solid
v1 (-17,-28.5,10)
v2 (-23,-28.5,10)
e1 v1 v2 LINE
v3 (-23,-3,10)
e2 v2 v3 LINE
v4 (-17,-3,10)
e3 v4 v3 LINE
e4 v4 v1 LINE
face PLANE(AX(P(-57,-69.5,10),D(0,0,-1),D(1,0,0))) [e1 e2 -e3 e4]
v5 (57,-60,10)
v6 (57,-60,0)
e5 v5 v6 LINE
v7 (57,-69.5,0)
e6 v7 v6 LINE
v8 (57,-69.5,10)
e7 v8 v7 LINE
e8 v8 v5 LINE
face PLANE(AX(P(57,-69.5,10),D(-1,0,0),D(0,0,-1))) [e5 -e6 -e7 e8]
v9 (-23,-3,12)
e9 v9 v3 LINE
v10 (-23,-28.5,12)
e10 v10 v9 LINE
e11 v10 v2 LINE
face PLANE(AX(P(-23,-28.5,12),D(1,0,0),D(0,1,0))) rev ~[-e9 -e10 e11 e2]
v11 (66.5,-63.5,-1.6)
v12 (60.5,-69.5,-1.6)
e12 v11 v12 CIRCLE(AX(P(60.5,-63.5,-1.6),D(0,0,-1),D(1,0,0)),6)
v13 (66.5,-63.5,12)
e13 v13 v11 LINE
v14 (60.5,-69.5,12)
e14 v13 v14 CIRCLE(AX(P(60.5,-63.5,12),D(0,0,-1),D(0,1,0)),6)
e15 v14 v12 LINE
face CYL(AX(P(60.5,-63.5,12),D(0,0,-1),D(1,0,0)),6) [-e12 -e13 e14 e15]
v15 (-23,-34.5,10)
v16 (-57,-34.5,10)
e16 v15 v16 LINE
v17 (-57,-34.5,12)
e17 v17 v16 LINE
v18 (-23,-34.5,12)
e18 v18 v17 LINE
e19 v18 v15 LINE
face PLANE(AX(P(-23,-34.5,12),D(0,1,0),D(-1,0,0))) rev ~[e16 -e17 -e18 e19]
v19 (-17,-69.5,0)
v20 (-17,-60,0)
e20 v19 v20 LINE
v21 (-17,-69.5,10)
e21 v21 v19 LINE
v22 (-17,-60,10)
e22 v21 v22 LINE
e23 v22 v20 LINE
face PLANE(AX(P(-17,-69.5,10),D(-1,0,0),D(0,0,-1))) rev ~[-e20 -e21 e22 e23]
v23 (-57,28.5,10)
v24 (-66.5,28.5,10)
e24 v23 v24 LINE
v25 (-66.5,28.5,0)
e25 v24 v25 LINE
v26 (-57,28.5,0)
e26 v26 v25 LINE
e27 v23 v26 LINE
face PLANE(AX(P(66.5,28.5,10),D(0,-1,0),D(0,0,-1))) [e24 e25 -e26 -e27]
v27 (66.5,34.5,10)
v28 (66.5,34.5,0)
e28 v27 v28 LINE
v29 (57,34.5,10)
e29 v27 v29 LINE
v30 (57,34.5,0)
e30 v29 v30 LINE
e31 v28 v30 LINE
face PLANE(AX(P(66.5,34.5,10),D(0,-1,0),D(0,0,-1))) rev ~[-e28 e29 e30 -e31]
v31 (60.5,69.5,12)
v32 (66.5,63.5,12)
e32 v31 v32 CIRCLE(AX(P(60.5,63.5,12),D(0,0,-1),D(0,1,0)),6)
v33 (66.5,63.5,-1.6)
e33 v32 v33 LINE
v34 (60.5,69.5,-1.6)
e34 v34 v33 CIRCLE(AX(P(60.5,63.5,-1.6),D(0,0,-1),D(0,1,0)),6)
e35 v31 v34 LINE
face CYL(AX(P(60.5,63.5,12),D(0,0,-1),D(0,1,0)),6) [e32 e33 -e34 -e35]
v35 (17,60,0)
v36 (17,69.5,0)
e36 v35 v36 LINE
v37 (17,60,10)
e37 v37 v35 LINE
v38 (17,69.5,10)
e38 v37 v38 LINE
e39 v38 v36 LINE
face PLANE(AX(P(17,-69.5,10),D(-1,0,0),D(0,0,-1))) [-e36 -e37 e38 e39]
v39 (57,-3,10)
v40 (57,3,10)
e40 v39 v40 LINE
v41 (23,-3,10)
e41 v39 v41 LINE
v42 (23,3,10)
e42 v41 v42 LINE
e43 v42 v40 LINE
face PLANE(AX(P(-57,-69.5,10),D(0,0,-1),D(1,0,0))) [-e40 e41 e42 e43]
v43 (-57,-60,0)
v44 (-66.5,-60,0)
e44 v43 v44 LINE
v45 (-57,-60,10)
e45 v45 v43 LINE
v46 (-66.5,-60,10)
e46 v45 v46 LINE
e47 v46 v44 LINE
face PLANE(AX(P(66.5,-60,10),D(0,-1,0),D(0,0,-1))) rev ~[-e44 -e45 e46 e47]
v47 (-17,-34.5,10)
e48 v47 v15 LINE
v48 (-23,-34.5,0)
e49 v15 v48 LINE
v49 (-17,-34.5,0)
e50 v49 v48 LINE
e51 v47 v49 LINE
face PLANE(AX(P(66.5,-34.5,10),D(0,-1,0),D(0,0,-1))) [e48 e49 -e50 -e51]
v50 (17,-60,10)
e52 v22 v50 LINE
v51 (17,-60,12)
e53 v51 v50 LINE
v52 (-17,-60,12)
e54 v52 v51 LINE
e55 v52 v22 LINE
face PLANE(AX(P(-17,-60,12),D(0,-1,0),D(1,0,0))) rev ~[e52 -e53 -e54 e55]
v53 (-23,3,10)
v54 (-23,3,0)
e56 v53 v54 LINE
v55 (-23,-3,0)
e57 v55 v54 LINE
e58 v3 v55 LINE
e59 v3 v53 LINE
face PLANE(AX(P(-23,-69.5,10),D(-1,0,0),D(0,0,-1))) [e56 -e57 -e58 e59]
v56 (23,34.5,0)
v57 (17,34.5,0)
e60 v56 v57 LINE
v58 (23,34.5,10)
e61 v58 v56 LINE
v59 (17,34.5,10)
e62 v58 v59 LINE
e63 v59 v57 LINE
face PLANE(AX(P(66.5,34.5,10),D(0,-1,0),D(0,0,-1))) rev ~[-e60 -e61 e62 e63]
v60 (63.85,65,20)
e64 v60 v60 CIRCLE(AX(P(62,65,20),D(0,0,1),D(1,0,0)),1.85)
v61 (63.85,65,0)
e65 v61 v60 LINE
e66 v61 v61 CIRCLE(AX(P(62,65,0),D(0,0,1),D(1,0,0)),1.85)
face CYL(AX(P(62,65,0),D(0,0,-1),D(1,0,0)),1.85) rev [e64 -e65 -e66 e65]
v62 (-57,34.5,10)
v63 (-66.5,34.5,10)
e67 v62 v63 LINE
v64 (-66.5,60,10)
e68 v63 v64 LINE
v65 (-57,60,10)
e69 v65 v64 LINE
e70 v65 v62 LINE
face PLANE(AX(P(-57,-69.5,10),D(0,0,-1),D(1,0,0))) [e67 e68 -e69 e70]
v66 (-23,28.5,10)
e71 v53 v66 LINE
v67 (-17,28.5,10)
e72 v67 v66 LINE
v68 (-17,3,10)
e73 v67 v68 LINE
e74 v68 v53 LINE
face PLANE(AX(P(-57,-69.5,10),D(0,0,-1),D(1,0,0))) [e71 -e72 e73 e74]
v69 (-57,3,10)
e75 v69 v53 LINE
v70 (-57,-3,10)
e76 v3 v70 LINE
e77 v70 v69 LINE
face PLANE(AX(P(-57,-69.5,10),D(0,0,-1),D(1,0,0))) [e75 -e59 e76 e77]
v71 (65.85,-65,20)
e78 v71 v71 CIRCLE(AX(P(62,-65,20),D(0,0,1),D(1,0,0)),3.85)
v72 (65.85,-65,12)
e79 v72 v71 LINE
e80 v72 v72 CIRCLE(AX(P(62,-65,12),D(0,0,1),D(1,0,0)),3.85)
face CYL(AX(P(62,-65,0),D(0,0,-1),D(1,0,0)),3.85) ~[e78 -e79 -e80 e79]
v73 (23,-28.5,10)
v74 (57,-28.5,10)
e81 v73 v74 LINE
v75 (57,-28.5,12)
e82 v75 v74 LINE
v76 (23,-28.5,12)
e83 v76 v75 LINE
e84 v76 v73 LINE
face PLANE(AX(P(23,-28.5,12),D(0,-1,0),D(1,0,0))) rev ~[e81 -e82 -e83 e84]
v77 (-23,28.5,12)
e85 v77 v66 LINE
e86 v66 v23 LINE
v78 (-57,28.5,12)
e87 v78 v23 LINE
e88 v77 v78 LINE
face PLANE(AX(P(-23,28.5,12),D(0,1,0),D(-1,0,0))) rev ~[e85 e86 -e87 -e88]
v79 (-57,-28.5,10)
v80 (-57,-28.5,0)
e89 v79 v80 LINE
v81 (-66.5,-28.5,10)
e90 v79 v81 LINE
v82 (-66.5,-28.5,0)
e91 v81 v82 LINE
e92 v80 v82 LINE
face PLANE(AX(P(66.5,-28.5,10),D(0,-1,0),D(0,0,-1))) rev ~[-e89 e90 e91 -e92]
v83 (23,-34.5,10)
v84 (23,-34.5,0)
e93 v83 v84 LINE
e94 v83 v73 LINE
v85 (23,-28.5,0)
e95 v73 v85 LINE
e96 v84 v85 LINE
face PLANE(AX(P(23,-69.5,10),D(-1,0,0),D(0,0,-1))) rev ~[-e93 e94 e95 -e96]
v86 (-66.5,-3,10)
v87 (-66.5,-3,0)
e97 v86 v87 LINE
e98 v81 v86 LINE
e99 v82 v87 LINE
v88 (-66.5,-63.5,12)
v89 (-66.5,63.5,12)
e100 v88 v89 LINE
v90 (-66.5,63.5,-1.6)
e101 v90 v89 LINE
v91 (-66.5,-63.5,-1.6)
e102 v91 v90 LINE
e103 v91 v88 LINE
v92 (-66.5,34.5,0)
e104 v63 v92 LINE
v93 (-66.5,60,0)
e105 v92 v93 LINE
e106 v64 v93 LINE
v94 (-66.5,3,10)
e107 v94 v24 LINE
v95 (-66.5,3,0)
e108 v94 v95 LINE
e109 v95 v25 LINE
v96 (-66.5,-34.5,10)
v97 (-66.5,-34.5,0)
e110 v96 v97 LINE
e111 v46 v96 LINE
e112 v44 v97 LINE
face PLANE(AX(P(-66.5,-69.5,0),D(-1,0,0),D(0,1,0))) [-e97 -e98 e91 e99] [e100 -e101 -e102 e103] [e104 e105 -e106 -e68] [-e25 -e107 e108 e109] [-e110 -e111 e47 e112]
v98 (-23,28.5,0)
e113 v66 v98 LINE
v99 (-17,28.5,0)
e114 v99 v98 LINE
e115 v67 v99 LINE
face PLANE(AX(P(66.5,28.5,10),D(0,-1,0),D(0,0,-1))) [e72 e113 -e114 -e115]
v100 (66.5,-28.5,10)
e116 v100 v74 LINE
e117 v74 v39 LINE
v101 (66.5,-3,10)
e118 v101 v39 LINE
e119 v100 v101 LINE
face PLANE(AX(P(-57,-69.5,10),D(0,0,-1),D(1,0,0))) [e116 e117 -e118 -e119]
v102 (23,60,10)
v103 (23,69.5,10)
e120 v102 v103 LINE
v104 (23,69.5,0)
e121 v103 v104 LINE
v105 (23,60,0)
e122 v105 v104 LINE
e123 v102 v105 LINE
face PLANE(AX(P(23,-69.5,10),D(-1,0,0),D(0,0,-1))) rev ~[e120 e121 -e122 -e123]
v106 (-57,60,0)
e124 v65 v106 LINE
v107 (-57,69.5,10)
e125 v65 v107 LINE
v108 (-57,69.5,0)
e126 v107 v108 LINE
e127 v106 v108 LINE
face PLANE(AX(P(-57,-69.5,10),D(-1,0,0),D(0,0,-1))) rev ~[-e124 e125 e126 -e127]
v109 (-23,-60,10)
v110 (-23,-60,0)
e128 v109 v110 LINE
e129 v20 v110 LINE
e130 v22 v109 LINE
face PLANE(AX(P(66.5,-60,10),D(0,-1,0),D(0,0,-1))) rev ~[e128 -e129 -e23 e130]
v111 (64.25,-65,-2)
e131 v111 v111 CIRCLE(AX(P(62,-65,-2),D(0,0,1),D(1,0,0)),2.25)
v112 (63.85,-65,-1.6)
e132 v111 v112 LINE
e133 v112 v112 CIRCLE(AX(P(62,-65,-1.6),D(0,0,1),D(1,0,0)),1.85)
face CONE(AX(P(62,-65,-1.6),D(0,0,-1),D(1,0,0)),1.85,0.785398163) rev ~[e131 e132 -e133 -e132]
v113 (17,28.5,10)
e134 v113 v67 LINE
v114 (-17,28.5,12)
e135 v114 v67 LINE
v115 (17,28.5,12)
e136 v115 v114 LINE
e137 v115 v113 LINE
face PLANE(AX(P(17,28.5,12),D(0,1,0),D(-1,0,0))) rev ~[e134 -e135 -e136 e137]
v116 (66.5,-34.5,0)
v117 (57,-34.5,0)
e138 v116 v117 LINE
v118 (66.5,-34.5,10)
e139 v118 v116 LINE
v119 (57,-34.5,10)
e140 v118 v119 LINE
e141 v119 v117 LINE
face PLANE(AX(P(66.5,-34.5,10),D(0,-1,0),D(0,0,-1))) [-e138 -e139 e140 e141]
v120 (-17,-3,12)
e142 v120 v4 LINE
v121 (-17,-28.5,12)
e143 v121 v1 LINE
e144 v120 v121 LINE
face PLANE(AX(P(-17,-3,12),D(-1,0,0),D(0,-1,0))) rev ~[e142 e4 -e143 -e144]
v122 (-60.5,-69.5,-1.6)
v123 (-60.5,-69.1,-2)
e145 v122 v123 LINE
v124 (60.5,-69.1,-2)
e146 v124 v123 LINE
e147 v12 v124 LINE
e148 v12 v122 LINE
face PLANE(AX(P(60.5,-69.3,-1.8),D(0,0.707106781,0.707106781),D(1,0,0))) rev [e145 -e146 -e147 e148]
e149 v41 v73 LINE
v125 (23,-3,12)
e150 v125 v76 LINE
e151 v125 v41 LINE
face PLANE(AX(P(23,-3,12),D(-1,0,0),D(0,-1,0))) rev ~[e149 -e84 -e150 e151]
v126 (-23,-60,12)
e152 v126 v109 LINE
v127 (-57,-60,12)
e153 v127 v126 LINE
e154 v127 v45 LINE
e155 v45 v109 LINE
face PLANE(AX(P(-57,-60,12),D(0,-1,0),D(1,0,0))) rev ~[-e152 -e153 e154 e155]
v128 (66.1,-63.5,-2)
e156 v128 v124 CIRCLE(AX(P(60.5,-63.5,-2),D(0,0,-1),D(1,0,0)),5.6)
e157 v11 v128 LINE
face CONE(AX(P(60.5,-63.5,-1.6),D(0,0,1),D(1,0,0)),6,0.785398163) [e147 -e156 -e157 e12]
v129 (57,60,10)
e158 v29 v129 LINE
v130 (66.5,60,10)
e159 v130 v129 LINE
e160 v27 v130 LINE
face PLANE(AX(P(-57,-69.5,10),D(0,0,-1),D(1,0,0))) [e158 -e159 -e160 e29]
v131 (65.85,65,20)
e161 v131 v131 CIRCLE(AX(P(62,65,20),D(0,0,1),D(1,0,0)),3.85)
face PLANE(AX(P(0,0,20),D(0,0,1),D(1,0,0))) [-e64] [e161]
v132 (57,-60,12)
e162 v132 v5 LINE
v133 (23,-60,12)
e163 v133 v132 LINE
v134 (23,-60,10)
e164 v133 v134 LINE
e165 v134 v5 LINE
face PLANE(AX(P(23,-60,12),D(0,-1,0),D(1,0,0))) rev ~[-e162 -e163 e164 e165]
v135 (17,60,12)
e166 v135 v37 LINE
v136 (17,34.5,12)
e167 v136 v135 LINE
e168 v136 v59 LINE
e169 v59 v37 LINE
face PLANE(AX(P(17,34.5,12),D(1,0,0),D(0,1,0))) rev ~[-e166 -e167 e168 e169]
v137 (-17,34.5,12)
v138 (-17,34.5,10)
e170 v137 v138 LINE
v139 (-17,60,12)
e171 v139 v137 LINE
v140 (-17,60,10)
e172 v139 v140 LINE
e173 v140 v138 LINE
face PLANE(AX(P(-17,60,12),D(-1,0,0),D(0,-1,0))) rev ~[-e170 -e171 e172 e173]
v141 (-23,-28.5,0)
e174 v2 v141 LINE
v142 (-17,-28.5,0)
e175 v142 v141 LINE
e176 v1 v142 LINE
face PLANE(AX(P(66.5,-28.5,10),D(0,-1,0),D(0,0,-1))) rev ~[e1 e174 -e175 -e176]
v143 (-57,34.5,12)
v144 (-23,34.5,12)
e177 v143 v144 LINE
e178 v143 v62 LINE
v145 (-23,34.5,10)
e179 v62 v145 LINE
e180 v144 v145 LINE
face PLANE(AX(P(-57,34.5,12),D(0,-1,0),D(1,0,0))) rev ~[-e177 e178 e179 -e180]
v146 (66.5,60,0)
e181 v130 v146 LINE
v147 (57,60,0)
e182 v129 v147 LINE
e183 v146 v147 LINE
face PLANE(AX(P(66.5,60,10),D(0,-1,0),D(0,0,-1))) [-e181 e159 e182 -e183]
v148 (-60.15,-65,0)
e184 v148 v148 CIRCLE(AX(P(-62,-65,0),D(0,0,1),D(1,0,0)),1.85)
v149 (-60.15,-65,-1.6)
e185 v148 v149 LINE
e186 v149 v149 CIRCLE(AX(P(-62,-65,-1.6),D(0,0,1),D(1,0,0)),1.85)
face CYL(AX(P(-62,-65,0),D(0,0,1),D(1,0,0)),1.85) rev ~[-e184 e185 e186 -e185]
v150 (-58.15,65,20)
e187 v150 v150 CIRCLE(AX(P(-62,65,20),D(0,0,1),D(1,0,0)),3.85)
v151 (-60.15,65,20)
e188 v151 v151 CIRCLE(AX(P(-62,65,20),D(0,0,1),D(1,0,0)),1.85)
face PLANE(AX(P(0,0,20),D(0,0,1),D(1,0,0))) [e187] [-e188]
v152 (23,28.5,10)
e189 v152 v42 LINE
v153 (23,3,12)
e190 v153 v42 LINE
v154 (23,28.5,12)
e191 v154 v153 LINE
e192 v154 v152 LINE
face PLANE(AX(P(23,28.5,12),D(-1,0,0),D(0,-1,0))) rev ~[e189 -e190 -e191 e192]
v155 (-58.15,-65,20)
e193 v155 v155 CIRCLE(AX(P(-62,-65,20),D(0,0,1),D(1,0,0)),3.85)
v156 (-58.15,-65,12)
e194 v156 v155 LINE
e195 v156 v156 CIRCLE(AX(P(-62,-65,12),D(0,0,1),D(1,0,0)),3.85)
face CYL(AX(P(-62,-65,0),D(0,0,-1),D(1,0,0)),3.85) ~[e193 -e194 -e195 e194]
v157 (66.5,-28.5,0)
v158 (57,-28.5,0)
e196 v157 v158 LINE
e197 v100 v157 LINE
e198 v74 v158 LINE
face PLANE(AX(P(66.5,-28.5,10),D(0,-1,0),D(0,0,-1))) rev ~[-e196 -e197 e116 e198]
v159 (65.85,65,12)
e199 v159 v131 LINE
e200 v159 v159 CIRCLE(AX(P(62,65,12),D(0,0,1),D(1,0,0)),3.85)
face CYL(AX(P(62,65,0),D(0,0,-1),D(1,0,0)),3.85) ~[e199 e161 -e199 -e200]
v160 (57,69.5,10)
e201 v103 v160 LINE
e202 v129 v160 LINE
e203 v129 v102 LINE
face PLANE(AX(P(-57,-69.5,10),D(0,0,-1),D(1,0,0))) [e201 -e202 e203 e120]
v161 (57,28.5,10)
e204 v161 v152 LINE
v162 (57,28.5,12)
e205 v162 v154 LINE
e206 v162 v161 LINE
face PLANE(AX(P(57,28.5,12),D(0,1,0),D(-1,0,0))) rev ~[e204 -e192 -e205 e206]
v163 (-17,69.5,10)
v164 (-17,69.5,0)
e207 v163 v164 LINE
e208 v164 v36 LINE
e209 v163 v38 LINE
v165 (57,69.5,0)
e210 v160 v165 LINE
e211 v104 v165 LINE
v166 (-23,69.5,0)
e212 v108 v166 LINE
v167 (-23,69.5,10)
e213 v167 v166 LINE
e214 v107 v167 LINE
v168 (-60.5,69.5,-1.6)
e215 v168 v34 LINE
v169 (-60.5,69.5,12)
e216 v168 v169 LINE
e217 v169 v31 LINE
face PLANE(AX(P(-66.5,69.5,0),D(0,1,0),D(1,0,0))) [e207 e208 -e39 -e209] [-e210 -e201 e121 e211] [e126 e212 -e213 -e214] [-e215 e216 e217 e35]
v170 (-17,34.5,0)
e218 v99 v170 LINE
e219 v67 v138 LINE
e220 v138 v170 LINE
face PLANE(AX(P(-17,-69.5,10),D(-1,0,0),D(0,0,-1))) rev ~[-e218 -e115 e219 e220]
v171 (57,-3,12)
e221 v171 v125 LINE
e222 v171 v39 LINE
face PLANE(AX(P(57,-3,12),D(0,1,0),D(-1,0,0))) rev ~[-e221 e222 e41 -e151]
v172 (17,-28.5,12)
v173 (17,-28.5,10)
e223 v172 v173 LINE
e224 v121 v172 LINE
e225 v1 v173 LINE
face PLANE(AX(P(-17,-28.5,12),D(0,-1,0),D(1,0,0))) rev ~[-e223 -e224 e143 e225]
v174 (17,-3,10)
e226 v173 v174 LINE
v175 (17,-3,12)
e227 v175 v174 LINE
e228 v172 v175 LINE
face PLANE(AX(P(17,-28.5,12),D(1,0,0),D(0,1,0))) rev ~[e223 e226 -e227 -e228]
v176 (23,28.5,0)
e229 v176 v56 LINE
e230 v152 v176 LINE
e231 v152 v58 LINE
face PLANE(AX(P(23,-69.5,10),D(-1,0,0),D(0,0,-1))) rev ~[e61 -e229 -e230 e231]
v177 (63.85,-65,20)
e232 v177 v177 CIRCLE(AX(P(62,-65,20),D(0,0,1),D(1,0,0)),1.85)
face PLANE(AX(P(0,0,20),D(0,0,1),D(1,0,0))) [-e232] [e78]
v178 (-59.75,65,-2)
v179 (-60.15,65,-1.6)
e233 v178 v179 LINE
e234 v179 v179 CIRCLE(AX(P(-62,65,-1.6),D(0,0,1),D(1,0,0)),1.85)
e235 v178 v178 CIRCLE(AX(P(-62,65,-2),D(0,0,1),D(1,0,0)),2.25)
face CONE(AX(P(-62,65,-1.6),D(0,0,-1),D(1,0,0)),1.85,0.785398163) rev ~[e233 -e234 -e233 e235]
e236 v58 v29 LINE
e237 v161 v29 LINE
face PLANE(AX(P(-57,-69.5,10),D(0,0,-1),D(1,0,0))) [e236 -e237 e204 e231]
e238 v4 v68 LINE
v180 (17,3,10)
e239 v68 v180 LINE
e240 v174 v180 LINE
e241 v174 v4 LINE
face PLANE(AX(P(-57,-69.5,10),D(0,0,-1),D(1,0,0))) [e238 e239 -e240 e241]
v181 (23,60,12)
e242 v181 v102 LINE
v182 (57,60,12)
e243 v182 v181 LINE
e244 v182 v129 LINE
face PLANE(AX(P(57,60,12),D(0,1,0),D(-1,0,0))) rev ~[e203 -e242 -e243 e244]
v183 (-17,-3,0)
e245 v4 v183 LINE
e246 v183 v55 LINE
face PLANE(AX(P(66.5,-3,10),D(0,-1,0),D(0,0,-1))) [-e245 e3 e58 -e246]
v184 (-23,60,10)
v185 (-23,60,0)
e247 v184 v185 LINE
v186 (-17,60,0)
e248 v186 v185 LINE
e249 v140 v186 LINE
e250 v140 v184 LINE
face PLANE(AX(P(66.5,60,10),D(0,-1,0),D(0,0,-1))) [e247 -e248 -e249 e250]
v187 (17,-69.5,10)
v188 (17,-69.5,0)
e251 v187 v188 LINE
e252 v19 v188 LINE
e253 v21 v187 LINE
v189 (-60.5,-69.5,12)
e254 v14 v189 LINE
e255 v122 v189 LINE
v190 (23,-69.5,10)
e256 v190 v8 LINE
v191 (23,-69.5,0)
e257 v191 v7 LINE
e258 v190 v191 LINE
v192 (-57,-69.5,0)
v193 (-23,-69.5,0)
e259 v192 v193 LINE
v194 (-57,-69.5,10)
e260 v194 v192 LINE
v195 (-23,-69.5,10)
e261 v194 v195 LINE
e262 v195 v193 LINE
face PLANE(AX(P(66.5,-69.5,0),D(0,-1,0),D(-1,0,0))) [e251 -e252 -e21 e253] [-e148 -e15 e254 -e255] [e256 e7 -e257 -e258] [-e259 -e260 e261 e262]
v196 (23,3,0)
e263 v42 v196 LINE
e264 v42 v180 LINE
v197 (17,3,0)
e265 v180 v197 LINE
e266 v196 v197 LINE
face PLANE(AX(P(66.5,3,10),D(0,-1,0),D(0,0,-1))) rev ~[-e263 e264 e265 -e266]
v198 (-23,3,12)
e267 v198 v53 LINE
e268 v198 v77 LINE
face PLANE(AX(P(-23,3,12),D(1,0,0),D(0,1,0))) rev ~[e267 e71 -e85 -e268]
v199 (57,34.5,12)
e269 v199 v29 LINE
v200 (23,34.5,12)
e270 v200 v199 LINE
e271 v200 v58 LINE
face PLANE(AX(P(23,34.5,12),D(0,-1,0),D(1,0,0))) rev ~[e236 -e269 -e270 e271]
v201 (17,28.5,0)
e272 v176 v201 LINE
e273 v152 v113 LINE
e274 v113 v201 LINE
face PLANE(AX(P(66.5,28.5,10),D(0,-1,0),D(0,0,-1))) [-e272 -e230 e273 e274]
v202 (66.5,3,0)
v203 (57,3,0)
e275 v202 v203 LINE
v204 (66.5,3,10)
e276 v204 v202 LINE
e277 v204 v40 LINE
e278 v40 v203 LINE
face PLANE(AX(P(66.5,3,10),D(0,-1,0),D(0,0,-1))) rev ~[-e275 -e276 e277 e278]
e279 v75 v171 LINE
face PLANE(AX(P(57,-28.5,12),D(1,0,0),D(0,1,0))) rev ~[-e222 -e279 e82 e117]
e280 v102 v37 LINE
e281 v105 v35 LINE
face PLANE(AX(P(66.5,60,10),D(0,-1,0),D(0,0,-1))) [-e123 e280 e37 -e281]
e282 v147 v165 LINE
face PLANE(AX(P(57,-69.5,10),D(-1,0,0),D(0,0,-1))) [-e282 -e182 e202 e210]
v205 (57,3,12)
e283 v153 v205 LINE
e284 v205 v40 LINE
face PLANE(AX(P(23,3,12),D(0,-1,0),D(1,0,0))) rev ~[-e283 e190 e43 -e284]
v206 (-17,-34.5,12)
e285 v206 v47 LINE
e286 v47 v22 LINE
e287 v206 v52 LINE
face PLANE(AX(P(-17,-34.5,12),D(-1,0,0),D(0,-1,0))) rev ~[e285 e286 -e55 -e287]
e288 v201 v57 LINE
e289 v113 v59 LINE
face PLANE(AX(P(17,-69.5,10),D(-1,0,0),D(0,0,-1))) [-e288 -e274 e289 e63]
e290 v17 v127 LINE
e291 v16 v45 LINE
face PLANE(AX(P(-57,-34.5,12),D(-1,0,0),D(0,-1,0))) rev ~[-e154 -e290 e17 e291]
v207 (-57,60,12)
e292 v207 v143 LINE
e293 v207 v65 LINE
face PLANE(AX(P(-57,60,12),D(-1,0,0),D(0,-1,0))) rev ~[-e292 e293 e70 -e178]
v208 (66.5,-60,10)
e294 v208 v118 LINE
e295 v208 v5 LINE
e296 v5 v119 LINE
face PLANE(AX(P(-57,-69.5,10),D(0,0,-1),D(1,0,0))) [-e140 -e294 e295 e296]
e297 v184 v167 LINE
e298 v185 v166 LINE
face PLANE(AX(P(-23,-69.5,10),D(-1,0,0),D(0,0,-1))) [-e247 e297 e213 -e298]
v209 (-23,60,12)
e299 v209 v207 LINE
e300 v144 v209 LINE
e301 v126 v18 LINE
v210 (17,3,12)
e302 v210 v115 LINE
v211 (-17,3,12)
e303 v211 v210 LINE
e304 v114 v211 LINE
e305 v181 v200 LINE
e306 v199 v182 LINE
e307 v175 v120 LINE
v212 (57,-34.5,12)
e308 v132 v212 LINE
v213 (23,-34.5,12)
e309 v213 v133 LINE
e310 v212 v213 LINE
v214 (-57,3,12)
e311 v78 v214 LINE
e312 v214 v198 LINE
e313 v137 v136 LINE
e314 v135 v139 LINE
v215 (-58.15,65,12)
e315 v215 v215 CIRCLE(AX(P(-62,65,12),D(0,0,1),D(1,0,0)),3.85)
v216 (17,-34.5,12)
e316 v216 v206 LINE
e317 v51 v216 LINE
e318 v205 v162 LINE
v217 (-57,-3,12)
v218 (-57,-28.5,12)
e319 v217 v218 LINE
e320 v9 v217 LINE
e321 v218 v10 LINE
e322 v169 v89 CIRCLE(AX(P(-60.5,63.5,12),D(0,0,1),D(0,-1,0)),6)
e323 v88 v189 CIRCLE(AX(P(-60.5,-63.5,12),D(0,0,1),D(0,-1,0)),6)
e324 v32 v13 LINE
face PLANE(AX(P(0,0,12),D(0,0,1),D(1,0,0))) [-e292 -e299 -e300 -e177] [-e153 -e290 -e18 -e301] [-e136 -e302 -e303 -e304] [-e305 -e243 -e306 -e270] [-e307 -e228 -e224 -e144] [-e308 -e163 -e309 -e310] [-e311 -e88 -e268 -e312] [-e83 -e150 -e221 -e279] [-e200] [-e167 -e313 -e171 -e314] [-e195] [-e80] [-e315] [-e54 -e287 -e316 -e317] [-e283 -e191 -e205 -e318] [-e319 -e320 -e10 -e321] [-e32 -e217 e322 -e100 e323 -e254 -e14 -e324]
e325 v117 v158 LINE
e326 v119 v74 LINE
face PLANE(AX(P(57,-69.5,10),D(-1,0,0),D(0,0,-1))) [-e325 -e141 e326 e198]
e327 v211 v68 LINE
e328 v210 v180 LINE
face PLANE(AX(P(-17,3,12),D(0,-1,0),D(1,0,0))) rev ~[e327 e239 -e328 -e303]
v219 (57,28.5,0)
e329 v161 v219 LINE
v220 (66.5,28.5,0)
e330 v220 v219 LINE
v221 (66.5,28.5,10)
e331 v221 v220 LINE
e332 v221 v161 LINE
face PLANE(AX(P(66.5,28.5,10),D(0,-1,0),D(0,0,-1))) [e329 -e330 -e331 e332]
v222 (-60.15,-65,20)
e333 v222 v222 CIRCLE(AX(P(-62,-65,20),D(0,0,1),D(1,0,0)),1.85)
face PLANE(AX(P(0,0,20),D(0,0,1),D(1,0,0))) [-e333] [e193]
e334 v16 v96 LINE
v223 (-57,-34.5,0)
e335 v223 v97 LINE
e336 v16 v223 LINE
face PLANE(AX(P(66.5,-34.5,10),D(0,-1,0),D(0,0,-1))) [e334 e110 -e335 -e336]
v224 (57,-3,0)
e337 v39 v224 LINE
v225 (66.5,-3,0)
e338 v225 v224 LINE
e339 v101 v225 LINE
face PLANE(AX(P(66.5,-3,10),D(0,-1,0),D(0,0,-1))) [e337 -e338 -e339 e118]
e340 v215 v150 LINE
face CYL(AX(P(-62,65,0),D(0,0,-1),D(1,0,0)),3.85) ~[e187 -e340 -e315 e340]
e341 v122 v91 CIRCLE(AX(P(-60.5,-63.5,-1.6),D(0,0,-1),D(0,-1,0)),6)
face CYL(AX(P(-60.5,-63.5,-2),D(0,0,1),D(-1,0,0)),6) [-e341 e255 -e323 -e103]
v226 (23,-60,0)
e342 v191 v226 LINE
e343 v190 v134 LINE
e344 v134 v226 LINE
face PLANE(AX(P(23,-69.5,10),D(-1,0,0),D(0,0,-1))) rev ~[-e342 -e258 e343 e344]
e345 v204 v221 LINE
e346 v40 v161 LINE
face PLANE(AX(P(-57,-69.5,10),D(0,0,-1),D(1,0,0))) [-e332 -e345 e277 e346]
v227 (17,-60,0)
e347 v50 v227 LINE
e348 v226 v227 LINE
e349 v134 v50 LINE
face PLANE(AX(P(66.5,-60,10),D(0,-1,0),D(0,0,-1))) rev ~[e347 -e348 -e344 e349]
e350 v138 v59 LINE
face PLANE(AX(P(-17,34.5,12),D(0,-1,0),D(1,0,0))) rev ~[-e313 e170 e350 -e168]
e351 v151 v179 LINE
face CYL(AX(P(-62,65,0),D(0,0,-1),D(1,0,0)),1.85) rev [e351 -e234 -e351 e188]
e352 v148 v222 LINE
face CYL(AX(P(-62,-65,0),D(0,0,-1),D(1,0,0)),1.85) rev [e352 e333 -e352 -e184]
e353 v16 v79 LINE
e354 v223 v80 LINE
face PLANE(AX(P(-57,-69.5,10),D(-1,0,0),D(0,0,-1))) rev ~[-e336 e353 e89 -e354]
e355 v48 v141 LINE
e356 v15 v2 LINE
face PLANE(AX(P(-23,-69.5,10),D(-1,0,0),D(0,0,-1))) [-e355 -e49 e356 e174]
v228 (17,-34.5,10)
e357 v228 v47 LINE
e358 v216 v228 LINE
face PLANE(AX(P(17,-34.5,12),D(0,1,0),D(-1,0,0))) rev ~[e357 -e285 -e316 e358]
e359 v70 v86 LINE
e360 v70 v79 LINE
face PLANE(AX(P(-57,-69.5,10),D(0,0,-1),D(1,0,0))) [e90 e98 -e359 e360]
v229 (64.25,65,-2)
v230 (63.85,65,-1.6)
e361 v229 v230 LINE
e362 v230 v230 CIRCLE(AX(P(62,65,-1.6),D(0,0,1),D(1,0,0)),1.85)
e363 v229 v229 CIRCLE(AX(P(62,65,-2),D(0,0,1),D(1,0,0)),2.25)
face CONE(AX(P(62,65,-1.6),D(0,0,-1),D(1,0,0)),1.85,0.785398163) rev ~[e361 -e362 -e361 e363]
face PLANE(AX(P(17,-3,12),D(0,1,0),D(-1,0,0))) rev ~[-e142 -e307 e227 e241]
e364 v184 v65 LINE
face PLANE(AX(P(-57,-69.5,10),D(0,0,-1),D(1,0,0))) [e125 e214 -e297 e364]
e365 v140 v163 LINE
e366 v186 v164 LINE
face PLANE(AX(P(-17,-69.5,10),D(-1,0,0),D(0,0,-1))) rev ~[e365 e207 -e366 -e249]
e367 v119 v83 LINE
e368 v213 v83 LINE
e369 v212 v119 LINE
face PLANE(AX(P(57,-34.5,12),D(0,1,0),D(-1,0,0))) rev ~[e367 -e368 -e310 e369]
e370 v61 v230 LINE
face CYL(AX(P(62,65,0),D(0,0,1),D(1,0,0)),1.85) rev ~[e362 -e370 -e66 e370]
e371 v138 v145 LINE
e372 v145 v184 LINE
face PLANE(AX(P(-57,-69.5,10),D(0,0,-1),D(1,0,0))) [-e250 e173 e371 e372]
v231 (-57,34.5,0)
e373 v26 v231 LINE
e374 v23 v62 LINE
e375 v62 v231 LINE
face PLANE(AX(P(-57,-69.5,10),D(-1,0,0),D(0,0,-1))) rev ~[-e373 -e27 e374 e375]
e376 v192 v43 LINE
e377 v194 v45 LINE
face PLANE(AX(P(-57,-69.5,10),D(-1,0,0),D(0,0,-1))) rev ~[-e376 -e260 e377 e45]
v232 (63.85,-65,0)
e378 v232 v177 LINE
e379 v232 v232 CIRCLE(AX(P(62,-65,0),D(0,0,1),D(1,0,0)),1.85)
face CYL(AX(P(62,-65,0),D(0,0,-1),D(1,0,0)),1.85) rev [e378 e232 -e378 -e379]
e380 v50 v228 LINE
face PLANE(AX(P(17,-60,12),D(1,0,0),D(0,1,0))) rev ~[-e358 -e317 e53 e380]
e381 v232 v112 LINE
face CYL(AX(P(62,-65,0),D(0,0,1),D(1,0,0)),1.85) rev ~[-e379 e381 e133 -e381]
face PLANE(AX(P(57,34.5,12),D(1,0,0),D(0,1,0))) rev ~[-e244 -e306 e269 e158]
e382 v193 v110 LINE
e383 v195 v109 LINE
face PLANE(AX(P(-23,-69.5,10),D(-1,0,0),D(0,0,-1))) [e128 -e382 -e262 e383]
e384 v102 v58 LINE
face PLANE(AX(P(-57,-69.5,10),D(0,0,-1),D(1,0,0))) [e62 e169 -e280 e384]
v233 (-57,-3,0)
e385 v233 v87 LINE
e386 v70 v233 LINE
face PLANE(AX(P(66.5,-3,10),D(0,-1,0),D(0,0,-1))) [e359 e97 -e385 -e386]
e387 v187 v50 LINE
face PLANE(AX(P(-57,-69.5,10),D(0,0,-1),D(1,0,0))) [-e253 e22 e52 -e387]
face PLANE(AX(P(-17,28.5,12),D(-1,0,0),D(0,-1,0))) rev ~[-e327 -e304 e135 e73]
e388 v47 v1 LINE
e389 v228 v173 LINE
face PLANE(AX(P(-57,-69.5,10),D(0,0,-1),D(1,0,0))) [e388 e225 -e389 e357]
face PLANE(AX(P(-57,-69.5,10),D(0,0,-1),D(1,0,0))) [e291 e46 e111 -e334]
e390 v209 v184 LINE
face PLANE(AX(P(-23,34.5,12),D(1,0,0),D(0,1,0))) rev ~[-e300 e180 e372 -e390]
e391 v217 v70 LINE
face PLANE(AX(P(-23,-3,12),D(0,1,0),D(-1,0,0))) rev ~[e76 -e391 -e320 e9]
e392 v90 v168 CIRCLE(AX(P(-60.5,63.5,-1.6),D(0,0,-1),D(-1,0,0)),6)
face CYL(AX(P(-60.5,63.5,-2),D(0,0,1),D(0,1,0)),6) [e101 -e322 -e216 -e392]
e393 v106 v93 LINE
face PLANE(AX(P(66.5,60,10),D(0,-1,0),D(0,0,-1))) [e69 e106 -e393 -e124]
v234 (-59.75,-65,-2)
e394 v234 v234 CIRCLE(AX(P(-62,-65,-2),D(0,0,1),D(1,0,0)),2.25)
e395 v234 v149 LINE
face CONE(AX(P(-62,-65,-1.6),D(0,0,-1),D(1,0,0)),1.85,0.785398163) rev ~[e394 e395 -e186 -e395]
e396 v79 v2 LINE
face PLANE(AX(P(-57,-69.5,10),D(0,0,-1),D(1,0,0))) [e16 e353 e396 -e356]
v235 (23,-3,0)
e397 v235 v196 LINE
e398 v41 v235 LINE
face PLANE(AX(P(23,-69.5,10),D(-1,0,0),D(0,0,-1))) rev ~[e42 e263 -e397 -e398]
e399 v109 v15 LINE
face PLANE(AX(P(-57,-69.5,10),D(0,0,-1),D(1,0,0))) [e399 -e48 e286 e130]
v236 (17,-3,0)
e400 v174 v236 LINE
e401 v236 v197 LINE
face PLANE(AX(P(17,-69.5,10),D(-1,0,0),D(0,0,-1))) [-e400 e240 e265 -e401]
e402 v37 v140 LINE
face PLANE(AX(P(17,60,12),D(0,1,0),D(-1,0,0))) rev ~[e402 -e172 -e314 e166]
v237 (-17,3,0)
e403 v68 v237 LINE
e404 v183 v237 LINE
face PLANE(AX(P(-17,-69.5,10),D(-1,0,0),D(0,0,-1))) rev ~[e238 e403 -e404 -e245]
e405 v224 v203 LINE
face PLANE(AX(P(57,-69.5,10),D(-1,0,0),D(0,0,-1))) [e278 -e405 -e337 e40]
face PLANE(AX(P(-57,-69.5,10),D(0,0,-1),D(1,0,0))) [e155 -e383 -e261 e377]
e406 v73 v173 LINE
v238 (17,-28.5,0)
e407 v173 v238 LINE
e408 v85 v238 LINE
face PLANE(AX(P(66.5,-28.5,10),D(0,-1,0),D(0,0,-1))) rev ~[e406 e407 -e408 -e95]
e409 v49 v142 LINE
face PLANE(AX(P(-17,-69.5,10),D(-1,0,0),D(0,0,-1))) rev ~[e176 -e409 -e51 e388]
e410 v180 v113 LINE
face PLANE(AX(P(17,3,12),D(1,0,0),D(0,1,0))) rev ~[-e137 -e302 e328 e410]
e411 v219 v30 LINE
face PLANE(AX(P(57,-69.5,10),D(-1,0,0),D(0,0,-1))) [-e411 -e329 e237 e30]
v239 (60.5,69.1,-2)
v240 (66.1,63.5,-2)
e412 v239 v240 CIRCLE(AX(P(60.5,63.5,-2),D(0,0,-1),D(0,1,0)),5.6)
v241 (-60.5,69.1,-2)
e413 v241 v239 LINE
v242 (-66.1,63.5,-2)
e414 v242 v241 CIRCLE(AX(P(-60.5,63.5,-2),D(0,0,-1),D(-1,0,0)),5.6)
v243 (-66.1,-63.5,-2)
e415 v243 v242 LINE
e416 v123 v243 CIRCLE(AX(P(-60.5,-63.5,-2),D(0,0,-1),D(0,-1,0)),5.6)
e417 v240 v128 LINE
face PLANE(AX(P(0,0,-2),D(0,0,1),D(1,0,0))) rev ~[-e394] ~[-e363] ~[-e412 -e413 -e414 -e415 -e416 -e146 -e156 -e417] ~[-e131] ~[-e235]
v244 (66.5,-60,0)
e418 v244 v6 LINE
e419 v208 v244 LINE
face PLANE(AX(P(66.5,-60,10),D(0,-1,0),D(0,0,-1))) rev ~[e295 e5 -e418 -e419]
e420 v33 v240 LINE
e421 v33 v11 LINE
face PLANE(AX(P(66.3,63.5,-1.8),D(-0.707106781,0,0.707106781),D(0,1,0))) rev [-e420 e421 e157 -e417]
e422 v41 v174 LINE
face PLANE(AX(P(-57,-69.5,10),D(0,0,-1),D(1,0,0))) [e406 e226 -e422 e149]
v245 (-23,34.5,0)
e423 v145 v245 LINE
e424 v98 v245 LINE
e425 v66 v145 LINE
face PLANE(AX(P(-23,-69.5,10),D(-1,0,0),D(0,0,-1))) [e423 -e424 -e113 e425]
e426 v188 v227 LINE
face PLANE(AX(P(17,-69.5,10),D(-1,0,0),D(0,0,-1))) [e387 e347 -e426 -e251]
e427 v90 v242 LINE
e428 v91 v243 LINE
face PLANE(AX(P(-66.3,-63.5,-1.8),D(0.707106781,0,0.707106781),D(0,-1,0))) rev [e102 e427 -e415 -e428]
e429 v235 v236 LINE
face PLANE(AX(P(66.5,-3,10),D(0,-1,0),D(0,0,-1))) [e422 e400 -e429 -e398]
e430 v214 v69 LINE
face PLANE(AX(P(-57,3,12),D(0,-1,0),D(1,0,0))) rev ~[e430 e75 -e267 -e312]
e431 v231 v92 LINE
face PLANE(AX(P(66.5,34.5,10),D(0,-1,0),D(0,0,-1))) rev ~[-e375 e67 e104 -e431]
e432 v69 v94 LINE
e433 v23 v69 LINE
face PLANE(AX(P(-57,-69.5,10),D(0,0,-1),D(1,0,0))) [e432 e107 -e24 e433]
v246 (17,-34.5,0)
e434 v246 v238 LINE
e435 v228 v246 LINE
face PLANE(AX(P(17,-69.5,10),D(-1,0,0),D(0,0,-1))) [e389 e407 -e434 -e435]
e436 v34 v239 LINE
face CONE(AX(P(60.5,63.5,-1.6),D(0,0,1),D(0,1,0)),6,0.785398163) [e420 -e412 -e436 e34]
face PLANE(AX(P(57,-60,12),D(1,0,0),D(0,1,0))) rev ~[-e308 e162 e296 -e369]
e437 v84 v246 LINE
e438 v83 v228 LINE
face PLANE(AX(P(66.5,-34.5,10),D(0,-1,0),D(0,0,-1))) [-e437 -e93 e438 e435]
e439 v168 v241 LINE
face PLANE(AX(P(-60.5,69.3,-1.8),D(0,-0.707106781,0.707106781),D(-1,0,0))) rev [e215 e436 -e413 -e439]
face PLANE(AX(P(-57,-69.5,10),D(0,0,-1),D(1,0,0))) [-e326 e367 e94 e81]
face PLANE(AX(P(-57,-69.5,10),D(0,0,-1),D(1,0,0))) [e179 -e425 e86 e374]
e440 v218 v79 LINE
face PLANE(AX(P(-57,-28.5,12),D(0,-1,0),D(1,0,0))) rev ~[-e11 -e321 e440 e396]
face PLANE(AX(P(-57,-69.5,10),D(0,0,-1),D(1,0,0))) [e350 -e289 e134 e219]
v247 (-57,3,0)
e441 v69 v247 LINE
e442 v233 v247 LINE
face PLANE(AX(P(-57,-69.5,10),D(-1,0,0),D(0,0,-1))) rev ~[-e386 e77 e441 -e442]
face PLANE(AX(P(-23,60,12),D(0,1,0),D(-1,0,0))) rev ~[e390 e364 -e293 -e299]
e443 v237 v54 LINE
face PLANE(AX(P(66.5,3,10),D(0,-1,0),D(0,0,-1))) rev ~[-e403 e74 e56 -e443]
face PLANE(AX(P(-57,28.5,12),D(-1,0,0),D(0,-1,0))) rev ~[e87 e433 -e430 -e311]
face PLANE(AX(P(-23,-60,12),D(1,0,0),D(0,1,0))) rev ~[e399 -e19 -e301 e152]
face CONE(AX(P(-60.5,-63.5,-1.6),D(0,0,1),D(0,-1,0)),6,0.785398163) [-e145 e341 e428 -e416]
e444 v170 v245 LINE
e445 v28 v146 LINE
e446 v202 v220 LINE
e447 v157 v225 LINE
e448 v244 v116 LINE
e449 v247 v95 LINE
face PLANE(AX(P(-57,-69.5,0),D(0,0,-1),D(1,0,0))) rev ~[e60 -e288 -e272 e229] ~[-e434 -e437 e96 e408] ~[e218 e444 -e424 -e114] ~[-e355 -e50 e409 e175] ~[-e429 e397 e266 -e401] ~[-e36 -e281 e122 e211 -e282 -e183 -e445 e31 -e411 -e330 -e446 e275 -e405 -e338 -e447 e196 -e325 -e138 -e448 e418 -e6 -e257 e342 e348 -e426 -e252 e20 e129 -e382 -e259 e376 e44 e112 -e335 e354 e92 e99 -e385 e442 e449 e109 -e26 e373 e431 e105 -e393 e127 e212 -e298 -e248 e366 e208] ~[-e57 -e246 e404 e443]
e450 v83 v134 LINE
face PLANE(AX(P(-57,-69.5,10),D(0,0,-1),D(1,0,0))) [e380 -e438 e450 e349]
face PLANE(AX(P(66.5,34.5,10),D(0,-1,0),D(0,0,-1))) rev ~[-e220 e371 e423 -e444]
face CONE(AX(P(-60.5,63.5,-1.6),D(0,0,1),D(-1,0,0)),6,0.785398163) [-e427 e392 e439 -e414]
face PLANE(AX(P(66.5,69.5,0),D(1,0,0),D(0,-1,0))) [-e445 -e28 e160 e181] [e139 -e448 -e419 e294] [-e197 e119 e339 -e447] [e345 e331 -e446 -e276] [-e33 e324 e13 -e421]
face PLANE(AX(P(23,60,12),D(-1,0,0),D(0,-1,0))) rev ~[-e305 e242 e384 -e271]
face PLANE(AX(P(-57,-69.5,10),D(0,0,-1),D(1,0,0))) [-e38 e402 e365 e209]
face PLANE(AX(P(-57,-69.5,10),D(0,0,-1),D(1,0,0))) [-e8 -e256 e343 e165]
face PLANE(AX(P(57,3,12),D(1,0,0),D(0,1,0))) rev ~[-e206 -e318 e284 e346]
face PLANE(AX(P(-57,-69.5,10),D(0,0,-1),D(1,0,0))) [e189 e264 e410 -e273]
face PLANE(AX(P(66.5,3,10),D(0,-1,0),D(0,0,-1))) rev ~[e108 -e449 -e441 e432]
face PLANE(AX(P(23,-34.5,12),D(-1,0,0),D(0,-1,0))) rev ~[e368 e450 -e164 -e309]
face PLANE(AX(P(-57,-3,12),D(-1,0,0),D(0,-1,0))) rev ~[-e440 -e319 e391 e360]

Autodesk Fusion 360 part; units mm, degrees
sketch "Sketch1" plane through (0, 0, 0) normal (0, 0, 1) x (1, 0, 0)
  line L0 (-62, -65) -> (62, -65) construction
  line L1 (62, -65) -> (62, 65) construction
  line L2 (62, 65) -> (-62, 65) construction
  line L3 (-62, 65) -> (-62, -65) construction
  line L4 (-62, -65) -> (62, 65) construction
  line L5 (62, -65) -> (-62, 65) construction
  circle A0 centre (-62, 65) radius 1.85
  circle A1 centre (62, 65) radius 1.85
  circle A2 centre (-62, -65) radius 1.85
  circle A3 centre (62, -65) radius 1.85
  line L6 (-66.5, 69.5) -> (66.5, 69.5)
  line L7 (66.5, 69.5) -> (66.5, -69.5)
  line L8 (66.5, -69.5) -> (-66.5, -69.5)
  line L9 (-66.5, -69.5) -> (-66.5, 69.5)
  line L10 (-66.5, 69.5) -> (66.5, -69.5) construction
  line L11 (66.5, 69.5) -> (-66.5, -69.5) construction
  circle A4 centre (-62, 65) radius 3.85
  circle A5 centre (62, 65) radius 3.85
  circle A6 centre (-62, -65) radius 3.85
  circle A7 centre (62, -65) radius 3.85
  dimension "d1" = 124
  dimension "d2" = 130
  dimension "d3" = 3.7
  dimension "d6" = 124
  dimension "d8" = 133
  dimension "d9" = 7.7
  dimension "d12" = 124
  dimension "d102" = 139
extrude "Extrude1" add sketch "Sketch1" along normal blind 20 contours A4 | A5 | A6 | A7 makes body 1 at (-64.2474, 68.126, 13.3333) makes body 2 at (65.3812, 66.8413, 6.6667) makes body 3 at (-58.1548, -64.8081, 6.6667) makes body 4 at (58.3822, -66.3168, 13.3333)
extrude "Extrude2" add sketch "Sketch1" against normal blind 2 contours L6 L7 L8 L9 | A4 | A5 | A6 | A7 bodies 1 2 3 4
extrude "Extrude3" add sketch "Sketch1" along normal blind 12 contours L6 L7 L8 L9 bodies 1
sketch "Sketch2" plane through (0, -69.5, 0) normal (0, -1, 0) x (1, 0, 0)
  line L0 (66.5, -2) -> (66.5, 12)
  line L1 (-66.5, 12) -> (-57, 12)
  line L2 (-57, 12) -> (-57, -2)
  line L3 (-57, -2) -> (-66.5, -2)
  line L4 (-66.5, -2) -> (-66.5, 12)
  line L5 (-57, 12) -> (-23, 12)
  line L6 (-23, 12) -> (-23, -2)
  line L7 (-23, -2) -> (-57, -2)
  line L8 (-57, -2) -> (-57, 12)
  line L9 (-66.5, 12) -> (-66.5, 10)
  line L10 (-66.5, -2) -> (-66.5, 0)
  line L11 (-66.5, 10) -> (66.5, 10)
  line L12 (-66.5, 0) -> (66.5, 0)
  point P0 (-66.5, 12)
  dimension "d64" = 14
  dimension "d65" = 9.5
  dimension "d66" = 14
  dimension "d67" = 34
  dimension "d68" = 2
  dimension "d69" = 2
sketch "Sketch3" plane through (66.5, 0, 0) normal (1, 0, 0) x (0, 1, 0)
  line L0 (-69.5, 12) -> (-69.5, -2)
  line L1 (-69.5, -2) -> (69.5, -2)
  line L2 (69.5, -2) -> (69.5, 12)
  line L3 (69.5, 12) -> (-69.5, 12)
  line L4 (-69.5, 12) -> (-60, 12)
  line L5 (-60, 12) -> (-60, -2)
  line L6 (-60, -2) -> (-69.5, -2)
  line L7 (-69.5, -2) -> (-69.5, 12)
  line L8 (-60, 12) -> (-34.5, 12)
  line L9 (-34.5, 12) -> (-34.5, -2)
  line L10 (-34.5, -2) -> (-60, -2)
  line L11 (-60, -2) -> (-60, 12)
  line L12 (-69.5, 12) -> (-69.5, 10)
  line L13 (-69.5, -2) -> (-69.5, 0)
  line L14 (-69.5, 10) -> (69.5, 10)
  line L15 (-69.5, 0) -> (69.5, 0)
  dimension "d85" = 9.5
  dimension "d86" = 14
  dimension "d87" = 25.5
  dimension "d88" = 14
  dimension "d89" = 2
  dimension "d90" = 2
sketch "Sketch4" plane through (0, 0, -2) normal (0, 0, -1) x (1, 0, 0)
  circle A0 centre (-62, 65) radius 1.85
  circle A1 centre (62, 65) radius 1.85
  line L0 (66.5, 69.5) -> (-66.5, 69.5)
  line L1 (-66.5, 69.5) -> (-66.5, -69.5)
  line L2 (-66.5, -69.5) -> (66.5, -69.5)
  line L3 (66.5, -69.5) -> (66.5, 69.5)
  line L4 (62, 65) -> (35, 65)
  line L5 (35, 65) -> (35, 38)
  line L6 (35, 38) -> (62, 38)
  line L7 (62, 38) -> (62, 65)
  circle A2 centre (35, 38) radius 6.5
  circle A3 centre (-62, -65) radius 1.85
  circle A4 centre (62, -65) radius 1.85
  dimension "d43" = 27
  dimension "d44" = 27
  dimension "d45" = 13
extrude "Extrude10" cut sketch "Sketch3" against normal blind 133 contours L5 L9 L11 L14 L15 bodies 1
pattern_linear "R-Pattern2" count 4 spacing 31.5 along (0, 1, 0) of "Extrude10"
extrude "Extrude9" cut sketch "Sketch2" against normal blind 139 contours L2 L6 L8 L11 L12 bodies 1
pattern_linear "R-Pattern1" count 3 spacing 40 along (1, 0, 0) of "Extrude9"
ref_plane "WorkPlane1" through (0, 0, 12) normal (0, 0, 1) x (1, 0, 0)
sketch "Sketch6" plane through (0, 0, 12) normal (0, 0, 1) x (1, 0, 0)
  line L0 (-66.5, 69.5) -> (66.5, 69.5) construction
  line L1 (66.5, 69.5) -> (66.5, -69.5) construction
  line L2 (66.5, -69.5) -> (-66.5, -69.5) construction
  line L3 (-66.5, -69.5) -> (-66.5, 69.5) construction
  line L4 (-66.5, 69.5) -> (66.5, -69.5) construction
  line L5 (66.5, 69.5) -> (-66.5, -69.5) construction
  line L6 (-66.5, -69.5) -> (-57, -69.5) construction
  line L7 (-57, -69.5) -> (-57, -60) construction
  line L8 (-57, -60) -> (-66.5, -60) construction
  line L9 (-66.5, -60) -> (-66.5, -69.5) construction
  line L10 (-57, -60) -> (-23, -60)
  line L11 (-23, -60) -> (-23, -34.5)
  line L12 (-23, -34.5) -> (-57, -34.5)
  line L13 (-57, -34.5) -> (-57, -60)
  dimension "d106" = 133
  dimension "d107" = 139
  dimension "d108" = 9.5
  dimension "d109" = 9.5
  dimension "d110" = 34
  dimension "d111" = 25.5
extrude "Extrude11" cut sketch "Sketch6" against normal blind 2 bodies 1
pattern_linear "R-Pattern3" count 4 spacing 31.5 along (0, 1, 0) count 3 spacing 40 along (1, 0, 0) of "Extrude11"
fillet "Fillet1" radius 6 4 edges at (-66.5, -69.5, 5) (66.5, -69.5, 5) (66.5, 69.5, 5) (-66.5, 69.5, 5) on bodies 1
chamfer "Chamfer3" distance 0.4 angle 45 12 edges at (-63.7248, -65.669, -2) (60.2752, -65.669, -2) (60.2752, 64.331, -2) (-63.7248, 64.331, -2) (0, 69.5, -2) (-64.7426, 67.7426, -2) (-66.5, 0, -2) (-64.7426, -67.7426, -2) (0, -69.5, -2) (64.7426, -67.7426, -2) (66.5, 0, -2) (64.7426, 67.7426, -2) on bodies 1
equation "d1 = PWidth"
equation "d2 = PLength"
equation "d6 = PWidth"
equation "d7 = -PLength"
equation "d8 = BWidth"
equation "d9 = d3 + 4 mm"
equation "d12 = PWidth"
equation "d13 = -PLength"
equation "d14 = PegH"
equation "d16 = -Bottom"
equation "d18 = InnerHeight + Top"
equation "BWidth = PWidth + 9 mm"
equation "Ends = 9.5 mm"
equation "InnerWalls = 6 mm"
equation "InnerHeight = 10 mm"
equation "XChamberW = ( ( BWidth - ( Ends * 2 ) - ( InnerWalls * ( XChannels - 1 ) ) ) / XChannels )"
equation "Bottom = 2 mm"
equation "Top = 2 mm"
equation "XChamberH = Bottom + Top + InnerHeight"
equation "PegH = 22 mm - Bottom"
equation "d64 = XChamberH"
equation "d65 = Ends"
equation "d66 = XChamberH"
equation "d67 = XChamberW"
equation "d68 = Top"
equation "d69 = Bottom"
equation "XChannels = 3"
equation "d79 = -BLength"
equation "d81 = XChannels"
equation "d83 = -( XChamberW + InnerWalls ) * ( XChannels - 1 )"
equation "d85 = Ends"
equation "d86 = XChamberH"
equation "d87 = YChamberW"
equation "d88 = YChamberH"
equation "d89 = Top"
equation "d90 = Bottom"
equation "d91 = -BWidth"
equation "d93 = YChannels"
equation "d95 = ( YChamberW + InnerWalls ) * ( YChannels - 1 )"
equation "BLength = PLength + 9 mm"
equation "YChamberW = ( ( BLength - ( Ends * 2 ) - ( InnerWalls * ( YChannels - 1 ) ) ) / YChannels )"
equation "YChamberH = Bottom + Top + InnerHeight"
equation "YChannels = 4"
equation "d102 = BLength"
equation "PWidth = 124 mm"
equation "PLength = 130 mm"
equation "d105 = InnerHeight + Top"
equation "d106 = BWidth"
equation "d107 = BLength"
equation "d108 = Ends"
equation "d109 = Ends"
equation "d110 = XChamberW"
equation "d111 = YChamberW"
equation "d112 = -Top"
equation "d114 = YChannels"
equation "d115 = XChannels"
equation "d116 = ( YChamberW + InnerWalls ) * ( YChannels - 1 )"
equation "d117 = -( XChamberW + InnerWalls ) * ( XChannels - 1 )"
